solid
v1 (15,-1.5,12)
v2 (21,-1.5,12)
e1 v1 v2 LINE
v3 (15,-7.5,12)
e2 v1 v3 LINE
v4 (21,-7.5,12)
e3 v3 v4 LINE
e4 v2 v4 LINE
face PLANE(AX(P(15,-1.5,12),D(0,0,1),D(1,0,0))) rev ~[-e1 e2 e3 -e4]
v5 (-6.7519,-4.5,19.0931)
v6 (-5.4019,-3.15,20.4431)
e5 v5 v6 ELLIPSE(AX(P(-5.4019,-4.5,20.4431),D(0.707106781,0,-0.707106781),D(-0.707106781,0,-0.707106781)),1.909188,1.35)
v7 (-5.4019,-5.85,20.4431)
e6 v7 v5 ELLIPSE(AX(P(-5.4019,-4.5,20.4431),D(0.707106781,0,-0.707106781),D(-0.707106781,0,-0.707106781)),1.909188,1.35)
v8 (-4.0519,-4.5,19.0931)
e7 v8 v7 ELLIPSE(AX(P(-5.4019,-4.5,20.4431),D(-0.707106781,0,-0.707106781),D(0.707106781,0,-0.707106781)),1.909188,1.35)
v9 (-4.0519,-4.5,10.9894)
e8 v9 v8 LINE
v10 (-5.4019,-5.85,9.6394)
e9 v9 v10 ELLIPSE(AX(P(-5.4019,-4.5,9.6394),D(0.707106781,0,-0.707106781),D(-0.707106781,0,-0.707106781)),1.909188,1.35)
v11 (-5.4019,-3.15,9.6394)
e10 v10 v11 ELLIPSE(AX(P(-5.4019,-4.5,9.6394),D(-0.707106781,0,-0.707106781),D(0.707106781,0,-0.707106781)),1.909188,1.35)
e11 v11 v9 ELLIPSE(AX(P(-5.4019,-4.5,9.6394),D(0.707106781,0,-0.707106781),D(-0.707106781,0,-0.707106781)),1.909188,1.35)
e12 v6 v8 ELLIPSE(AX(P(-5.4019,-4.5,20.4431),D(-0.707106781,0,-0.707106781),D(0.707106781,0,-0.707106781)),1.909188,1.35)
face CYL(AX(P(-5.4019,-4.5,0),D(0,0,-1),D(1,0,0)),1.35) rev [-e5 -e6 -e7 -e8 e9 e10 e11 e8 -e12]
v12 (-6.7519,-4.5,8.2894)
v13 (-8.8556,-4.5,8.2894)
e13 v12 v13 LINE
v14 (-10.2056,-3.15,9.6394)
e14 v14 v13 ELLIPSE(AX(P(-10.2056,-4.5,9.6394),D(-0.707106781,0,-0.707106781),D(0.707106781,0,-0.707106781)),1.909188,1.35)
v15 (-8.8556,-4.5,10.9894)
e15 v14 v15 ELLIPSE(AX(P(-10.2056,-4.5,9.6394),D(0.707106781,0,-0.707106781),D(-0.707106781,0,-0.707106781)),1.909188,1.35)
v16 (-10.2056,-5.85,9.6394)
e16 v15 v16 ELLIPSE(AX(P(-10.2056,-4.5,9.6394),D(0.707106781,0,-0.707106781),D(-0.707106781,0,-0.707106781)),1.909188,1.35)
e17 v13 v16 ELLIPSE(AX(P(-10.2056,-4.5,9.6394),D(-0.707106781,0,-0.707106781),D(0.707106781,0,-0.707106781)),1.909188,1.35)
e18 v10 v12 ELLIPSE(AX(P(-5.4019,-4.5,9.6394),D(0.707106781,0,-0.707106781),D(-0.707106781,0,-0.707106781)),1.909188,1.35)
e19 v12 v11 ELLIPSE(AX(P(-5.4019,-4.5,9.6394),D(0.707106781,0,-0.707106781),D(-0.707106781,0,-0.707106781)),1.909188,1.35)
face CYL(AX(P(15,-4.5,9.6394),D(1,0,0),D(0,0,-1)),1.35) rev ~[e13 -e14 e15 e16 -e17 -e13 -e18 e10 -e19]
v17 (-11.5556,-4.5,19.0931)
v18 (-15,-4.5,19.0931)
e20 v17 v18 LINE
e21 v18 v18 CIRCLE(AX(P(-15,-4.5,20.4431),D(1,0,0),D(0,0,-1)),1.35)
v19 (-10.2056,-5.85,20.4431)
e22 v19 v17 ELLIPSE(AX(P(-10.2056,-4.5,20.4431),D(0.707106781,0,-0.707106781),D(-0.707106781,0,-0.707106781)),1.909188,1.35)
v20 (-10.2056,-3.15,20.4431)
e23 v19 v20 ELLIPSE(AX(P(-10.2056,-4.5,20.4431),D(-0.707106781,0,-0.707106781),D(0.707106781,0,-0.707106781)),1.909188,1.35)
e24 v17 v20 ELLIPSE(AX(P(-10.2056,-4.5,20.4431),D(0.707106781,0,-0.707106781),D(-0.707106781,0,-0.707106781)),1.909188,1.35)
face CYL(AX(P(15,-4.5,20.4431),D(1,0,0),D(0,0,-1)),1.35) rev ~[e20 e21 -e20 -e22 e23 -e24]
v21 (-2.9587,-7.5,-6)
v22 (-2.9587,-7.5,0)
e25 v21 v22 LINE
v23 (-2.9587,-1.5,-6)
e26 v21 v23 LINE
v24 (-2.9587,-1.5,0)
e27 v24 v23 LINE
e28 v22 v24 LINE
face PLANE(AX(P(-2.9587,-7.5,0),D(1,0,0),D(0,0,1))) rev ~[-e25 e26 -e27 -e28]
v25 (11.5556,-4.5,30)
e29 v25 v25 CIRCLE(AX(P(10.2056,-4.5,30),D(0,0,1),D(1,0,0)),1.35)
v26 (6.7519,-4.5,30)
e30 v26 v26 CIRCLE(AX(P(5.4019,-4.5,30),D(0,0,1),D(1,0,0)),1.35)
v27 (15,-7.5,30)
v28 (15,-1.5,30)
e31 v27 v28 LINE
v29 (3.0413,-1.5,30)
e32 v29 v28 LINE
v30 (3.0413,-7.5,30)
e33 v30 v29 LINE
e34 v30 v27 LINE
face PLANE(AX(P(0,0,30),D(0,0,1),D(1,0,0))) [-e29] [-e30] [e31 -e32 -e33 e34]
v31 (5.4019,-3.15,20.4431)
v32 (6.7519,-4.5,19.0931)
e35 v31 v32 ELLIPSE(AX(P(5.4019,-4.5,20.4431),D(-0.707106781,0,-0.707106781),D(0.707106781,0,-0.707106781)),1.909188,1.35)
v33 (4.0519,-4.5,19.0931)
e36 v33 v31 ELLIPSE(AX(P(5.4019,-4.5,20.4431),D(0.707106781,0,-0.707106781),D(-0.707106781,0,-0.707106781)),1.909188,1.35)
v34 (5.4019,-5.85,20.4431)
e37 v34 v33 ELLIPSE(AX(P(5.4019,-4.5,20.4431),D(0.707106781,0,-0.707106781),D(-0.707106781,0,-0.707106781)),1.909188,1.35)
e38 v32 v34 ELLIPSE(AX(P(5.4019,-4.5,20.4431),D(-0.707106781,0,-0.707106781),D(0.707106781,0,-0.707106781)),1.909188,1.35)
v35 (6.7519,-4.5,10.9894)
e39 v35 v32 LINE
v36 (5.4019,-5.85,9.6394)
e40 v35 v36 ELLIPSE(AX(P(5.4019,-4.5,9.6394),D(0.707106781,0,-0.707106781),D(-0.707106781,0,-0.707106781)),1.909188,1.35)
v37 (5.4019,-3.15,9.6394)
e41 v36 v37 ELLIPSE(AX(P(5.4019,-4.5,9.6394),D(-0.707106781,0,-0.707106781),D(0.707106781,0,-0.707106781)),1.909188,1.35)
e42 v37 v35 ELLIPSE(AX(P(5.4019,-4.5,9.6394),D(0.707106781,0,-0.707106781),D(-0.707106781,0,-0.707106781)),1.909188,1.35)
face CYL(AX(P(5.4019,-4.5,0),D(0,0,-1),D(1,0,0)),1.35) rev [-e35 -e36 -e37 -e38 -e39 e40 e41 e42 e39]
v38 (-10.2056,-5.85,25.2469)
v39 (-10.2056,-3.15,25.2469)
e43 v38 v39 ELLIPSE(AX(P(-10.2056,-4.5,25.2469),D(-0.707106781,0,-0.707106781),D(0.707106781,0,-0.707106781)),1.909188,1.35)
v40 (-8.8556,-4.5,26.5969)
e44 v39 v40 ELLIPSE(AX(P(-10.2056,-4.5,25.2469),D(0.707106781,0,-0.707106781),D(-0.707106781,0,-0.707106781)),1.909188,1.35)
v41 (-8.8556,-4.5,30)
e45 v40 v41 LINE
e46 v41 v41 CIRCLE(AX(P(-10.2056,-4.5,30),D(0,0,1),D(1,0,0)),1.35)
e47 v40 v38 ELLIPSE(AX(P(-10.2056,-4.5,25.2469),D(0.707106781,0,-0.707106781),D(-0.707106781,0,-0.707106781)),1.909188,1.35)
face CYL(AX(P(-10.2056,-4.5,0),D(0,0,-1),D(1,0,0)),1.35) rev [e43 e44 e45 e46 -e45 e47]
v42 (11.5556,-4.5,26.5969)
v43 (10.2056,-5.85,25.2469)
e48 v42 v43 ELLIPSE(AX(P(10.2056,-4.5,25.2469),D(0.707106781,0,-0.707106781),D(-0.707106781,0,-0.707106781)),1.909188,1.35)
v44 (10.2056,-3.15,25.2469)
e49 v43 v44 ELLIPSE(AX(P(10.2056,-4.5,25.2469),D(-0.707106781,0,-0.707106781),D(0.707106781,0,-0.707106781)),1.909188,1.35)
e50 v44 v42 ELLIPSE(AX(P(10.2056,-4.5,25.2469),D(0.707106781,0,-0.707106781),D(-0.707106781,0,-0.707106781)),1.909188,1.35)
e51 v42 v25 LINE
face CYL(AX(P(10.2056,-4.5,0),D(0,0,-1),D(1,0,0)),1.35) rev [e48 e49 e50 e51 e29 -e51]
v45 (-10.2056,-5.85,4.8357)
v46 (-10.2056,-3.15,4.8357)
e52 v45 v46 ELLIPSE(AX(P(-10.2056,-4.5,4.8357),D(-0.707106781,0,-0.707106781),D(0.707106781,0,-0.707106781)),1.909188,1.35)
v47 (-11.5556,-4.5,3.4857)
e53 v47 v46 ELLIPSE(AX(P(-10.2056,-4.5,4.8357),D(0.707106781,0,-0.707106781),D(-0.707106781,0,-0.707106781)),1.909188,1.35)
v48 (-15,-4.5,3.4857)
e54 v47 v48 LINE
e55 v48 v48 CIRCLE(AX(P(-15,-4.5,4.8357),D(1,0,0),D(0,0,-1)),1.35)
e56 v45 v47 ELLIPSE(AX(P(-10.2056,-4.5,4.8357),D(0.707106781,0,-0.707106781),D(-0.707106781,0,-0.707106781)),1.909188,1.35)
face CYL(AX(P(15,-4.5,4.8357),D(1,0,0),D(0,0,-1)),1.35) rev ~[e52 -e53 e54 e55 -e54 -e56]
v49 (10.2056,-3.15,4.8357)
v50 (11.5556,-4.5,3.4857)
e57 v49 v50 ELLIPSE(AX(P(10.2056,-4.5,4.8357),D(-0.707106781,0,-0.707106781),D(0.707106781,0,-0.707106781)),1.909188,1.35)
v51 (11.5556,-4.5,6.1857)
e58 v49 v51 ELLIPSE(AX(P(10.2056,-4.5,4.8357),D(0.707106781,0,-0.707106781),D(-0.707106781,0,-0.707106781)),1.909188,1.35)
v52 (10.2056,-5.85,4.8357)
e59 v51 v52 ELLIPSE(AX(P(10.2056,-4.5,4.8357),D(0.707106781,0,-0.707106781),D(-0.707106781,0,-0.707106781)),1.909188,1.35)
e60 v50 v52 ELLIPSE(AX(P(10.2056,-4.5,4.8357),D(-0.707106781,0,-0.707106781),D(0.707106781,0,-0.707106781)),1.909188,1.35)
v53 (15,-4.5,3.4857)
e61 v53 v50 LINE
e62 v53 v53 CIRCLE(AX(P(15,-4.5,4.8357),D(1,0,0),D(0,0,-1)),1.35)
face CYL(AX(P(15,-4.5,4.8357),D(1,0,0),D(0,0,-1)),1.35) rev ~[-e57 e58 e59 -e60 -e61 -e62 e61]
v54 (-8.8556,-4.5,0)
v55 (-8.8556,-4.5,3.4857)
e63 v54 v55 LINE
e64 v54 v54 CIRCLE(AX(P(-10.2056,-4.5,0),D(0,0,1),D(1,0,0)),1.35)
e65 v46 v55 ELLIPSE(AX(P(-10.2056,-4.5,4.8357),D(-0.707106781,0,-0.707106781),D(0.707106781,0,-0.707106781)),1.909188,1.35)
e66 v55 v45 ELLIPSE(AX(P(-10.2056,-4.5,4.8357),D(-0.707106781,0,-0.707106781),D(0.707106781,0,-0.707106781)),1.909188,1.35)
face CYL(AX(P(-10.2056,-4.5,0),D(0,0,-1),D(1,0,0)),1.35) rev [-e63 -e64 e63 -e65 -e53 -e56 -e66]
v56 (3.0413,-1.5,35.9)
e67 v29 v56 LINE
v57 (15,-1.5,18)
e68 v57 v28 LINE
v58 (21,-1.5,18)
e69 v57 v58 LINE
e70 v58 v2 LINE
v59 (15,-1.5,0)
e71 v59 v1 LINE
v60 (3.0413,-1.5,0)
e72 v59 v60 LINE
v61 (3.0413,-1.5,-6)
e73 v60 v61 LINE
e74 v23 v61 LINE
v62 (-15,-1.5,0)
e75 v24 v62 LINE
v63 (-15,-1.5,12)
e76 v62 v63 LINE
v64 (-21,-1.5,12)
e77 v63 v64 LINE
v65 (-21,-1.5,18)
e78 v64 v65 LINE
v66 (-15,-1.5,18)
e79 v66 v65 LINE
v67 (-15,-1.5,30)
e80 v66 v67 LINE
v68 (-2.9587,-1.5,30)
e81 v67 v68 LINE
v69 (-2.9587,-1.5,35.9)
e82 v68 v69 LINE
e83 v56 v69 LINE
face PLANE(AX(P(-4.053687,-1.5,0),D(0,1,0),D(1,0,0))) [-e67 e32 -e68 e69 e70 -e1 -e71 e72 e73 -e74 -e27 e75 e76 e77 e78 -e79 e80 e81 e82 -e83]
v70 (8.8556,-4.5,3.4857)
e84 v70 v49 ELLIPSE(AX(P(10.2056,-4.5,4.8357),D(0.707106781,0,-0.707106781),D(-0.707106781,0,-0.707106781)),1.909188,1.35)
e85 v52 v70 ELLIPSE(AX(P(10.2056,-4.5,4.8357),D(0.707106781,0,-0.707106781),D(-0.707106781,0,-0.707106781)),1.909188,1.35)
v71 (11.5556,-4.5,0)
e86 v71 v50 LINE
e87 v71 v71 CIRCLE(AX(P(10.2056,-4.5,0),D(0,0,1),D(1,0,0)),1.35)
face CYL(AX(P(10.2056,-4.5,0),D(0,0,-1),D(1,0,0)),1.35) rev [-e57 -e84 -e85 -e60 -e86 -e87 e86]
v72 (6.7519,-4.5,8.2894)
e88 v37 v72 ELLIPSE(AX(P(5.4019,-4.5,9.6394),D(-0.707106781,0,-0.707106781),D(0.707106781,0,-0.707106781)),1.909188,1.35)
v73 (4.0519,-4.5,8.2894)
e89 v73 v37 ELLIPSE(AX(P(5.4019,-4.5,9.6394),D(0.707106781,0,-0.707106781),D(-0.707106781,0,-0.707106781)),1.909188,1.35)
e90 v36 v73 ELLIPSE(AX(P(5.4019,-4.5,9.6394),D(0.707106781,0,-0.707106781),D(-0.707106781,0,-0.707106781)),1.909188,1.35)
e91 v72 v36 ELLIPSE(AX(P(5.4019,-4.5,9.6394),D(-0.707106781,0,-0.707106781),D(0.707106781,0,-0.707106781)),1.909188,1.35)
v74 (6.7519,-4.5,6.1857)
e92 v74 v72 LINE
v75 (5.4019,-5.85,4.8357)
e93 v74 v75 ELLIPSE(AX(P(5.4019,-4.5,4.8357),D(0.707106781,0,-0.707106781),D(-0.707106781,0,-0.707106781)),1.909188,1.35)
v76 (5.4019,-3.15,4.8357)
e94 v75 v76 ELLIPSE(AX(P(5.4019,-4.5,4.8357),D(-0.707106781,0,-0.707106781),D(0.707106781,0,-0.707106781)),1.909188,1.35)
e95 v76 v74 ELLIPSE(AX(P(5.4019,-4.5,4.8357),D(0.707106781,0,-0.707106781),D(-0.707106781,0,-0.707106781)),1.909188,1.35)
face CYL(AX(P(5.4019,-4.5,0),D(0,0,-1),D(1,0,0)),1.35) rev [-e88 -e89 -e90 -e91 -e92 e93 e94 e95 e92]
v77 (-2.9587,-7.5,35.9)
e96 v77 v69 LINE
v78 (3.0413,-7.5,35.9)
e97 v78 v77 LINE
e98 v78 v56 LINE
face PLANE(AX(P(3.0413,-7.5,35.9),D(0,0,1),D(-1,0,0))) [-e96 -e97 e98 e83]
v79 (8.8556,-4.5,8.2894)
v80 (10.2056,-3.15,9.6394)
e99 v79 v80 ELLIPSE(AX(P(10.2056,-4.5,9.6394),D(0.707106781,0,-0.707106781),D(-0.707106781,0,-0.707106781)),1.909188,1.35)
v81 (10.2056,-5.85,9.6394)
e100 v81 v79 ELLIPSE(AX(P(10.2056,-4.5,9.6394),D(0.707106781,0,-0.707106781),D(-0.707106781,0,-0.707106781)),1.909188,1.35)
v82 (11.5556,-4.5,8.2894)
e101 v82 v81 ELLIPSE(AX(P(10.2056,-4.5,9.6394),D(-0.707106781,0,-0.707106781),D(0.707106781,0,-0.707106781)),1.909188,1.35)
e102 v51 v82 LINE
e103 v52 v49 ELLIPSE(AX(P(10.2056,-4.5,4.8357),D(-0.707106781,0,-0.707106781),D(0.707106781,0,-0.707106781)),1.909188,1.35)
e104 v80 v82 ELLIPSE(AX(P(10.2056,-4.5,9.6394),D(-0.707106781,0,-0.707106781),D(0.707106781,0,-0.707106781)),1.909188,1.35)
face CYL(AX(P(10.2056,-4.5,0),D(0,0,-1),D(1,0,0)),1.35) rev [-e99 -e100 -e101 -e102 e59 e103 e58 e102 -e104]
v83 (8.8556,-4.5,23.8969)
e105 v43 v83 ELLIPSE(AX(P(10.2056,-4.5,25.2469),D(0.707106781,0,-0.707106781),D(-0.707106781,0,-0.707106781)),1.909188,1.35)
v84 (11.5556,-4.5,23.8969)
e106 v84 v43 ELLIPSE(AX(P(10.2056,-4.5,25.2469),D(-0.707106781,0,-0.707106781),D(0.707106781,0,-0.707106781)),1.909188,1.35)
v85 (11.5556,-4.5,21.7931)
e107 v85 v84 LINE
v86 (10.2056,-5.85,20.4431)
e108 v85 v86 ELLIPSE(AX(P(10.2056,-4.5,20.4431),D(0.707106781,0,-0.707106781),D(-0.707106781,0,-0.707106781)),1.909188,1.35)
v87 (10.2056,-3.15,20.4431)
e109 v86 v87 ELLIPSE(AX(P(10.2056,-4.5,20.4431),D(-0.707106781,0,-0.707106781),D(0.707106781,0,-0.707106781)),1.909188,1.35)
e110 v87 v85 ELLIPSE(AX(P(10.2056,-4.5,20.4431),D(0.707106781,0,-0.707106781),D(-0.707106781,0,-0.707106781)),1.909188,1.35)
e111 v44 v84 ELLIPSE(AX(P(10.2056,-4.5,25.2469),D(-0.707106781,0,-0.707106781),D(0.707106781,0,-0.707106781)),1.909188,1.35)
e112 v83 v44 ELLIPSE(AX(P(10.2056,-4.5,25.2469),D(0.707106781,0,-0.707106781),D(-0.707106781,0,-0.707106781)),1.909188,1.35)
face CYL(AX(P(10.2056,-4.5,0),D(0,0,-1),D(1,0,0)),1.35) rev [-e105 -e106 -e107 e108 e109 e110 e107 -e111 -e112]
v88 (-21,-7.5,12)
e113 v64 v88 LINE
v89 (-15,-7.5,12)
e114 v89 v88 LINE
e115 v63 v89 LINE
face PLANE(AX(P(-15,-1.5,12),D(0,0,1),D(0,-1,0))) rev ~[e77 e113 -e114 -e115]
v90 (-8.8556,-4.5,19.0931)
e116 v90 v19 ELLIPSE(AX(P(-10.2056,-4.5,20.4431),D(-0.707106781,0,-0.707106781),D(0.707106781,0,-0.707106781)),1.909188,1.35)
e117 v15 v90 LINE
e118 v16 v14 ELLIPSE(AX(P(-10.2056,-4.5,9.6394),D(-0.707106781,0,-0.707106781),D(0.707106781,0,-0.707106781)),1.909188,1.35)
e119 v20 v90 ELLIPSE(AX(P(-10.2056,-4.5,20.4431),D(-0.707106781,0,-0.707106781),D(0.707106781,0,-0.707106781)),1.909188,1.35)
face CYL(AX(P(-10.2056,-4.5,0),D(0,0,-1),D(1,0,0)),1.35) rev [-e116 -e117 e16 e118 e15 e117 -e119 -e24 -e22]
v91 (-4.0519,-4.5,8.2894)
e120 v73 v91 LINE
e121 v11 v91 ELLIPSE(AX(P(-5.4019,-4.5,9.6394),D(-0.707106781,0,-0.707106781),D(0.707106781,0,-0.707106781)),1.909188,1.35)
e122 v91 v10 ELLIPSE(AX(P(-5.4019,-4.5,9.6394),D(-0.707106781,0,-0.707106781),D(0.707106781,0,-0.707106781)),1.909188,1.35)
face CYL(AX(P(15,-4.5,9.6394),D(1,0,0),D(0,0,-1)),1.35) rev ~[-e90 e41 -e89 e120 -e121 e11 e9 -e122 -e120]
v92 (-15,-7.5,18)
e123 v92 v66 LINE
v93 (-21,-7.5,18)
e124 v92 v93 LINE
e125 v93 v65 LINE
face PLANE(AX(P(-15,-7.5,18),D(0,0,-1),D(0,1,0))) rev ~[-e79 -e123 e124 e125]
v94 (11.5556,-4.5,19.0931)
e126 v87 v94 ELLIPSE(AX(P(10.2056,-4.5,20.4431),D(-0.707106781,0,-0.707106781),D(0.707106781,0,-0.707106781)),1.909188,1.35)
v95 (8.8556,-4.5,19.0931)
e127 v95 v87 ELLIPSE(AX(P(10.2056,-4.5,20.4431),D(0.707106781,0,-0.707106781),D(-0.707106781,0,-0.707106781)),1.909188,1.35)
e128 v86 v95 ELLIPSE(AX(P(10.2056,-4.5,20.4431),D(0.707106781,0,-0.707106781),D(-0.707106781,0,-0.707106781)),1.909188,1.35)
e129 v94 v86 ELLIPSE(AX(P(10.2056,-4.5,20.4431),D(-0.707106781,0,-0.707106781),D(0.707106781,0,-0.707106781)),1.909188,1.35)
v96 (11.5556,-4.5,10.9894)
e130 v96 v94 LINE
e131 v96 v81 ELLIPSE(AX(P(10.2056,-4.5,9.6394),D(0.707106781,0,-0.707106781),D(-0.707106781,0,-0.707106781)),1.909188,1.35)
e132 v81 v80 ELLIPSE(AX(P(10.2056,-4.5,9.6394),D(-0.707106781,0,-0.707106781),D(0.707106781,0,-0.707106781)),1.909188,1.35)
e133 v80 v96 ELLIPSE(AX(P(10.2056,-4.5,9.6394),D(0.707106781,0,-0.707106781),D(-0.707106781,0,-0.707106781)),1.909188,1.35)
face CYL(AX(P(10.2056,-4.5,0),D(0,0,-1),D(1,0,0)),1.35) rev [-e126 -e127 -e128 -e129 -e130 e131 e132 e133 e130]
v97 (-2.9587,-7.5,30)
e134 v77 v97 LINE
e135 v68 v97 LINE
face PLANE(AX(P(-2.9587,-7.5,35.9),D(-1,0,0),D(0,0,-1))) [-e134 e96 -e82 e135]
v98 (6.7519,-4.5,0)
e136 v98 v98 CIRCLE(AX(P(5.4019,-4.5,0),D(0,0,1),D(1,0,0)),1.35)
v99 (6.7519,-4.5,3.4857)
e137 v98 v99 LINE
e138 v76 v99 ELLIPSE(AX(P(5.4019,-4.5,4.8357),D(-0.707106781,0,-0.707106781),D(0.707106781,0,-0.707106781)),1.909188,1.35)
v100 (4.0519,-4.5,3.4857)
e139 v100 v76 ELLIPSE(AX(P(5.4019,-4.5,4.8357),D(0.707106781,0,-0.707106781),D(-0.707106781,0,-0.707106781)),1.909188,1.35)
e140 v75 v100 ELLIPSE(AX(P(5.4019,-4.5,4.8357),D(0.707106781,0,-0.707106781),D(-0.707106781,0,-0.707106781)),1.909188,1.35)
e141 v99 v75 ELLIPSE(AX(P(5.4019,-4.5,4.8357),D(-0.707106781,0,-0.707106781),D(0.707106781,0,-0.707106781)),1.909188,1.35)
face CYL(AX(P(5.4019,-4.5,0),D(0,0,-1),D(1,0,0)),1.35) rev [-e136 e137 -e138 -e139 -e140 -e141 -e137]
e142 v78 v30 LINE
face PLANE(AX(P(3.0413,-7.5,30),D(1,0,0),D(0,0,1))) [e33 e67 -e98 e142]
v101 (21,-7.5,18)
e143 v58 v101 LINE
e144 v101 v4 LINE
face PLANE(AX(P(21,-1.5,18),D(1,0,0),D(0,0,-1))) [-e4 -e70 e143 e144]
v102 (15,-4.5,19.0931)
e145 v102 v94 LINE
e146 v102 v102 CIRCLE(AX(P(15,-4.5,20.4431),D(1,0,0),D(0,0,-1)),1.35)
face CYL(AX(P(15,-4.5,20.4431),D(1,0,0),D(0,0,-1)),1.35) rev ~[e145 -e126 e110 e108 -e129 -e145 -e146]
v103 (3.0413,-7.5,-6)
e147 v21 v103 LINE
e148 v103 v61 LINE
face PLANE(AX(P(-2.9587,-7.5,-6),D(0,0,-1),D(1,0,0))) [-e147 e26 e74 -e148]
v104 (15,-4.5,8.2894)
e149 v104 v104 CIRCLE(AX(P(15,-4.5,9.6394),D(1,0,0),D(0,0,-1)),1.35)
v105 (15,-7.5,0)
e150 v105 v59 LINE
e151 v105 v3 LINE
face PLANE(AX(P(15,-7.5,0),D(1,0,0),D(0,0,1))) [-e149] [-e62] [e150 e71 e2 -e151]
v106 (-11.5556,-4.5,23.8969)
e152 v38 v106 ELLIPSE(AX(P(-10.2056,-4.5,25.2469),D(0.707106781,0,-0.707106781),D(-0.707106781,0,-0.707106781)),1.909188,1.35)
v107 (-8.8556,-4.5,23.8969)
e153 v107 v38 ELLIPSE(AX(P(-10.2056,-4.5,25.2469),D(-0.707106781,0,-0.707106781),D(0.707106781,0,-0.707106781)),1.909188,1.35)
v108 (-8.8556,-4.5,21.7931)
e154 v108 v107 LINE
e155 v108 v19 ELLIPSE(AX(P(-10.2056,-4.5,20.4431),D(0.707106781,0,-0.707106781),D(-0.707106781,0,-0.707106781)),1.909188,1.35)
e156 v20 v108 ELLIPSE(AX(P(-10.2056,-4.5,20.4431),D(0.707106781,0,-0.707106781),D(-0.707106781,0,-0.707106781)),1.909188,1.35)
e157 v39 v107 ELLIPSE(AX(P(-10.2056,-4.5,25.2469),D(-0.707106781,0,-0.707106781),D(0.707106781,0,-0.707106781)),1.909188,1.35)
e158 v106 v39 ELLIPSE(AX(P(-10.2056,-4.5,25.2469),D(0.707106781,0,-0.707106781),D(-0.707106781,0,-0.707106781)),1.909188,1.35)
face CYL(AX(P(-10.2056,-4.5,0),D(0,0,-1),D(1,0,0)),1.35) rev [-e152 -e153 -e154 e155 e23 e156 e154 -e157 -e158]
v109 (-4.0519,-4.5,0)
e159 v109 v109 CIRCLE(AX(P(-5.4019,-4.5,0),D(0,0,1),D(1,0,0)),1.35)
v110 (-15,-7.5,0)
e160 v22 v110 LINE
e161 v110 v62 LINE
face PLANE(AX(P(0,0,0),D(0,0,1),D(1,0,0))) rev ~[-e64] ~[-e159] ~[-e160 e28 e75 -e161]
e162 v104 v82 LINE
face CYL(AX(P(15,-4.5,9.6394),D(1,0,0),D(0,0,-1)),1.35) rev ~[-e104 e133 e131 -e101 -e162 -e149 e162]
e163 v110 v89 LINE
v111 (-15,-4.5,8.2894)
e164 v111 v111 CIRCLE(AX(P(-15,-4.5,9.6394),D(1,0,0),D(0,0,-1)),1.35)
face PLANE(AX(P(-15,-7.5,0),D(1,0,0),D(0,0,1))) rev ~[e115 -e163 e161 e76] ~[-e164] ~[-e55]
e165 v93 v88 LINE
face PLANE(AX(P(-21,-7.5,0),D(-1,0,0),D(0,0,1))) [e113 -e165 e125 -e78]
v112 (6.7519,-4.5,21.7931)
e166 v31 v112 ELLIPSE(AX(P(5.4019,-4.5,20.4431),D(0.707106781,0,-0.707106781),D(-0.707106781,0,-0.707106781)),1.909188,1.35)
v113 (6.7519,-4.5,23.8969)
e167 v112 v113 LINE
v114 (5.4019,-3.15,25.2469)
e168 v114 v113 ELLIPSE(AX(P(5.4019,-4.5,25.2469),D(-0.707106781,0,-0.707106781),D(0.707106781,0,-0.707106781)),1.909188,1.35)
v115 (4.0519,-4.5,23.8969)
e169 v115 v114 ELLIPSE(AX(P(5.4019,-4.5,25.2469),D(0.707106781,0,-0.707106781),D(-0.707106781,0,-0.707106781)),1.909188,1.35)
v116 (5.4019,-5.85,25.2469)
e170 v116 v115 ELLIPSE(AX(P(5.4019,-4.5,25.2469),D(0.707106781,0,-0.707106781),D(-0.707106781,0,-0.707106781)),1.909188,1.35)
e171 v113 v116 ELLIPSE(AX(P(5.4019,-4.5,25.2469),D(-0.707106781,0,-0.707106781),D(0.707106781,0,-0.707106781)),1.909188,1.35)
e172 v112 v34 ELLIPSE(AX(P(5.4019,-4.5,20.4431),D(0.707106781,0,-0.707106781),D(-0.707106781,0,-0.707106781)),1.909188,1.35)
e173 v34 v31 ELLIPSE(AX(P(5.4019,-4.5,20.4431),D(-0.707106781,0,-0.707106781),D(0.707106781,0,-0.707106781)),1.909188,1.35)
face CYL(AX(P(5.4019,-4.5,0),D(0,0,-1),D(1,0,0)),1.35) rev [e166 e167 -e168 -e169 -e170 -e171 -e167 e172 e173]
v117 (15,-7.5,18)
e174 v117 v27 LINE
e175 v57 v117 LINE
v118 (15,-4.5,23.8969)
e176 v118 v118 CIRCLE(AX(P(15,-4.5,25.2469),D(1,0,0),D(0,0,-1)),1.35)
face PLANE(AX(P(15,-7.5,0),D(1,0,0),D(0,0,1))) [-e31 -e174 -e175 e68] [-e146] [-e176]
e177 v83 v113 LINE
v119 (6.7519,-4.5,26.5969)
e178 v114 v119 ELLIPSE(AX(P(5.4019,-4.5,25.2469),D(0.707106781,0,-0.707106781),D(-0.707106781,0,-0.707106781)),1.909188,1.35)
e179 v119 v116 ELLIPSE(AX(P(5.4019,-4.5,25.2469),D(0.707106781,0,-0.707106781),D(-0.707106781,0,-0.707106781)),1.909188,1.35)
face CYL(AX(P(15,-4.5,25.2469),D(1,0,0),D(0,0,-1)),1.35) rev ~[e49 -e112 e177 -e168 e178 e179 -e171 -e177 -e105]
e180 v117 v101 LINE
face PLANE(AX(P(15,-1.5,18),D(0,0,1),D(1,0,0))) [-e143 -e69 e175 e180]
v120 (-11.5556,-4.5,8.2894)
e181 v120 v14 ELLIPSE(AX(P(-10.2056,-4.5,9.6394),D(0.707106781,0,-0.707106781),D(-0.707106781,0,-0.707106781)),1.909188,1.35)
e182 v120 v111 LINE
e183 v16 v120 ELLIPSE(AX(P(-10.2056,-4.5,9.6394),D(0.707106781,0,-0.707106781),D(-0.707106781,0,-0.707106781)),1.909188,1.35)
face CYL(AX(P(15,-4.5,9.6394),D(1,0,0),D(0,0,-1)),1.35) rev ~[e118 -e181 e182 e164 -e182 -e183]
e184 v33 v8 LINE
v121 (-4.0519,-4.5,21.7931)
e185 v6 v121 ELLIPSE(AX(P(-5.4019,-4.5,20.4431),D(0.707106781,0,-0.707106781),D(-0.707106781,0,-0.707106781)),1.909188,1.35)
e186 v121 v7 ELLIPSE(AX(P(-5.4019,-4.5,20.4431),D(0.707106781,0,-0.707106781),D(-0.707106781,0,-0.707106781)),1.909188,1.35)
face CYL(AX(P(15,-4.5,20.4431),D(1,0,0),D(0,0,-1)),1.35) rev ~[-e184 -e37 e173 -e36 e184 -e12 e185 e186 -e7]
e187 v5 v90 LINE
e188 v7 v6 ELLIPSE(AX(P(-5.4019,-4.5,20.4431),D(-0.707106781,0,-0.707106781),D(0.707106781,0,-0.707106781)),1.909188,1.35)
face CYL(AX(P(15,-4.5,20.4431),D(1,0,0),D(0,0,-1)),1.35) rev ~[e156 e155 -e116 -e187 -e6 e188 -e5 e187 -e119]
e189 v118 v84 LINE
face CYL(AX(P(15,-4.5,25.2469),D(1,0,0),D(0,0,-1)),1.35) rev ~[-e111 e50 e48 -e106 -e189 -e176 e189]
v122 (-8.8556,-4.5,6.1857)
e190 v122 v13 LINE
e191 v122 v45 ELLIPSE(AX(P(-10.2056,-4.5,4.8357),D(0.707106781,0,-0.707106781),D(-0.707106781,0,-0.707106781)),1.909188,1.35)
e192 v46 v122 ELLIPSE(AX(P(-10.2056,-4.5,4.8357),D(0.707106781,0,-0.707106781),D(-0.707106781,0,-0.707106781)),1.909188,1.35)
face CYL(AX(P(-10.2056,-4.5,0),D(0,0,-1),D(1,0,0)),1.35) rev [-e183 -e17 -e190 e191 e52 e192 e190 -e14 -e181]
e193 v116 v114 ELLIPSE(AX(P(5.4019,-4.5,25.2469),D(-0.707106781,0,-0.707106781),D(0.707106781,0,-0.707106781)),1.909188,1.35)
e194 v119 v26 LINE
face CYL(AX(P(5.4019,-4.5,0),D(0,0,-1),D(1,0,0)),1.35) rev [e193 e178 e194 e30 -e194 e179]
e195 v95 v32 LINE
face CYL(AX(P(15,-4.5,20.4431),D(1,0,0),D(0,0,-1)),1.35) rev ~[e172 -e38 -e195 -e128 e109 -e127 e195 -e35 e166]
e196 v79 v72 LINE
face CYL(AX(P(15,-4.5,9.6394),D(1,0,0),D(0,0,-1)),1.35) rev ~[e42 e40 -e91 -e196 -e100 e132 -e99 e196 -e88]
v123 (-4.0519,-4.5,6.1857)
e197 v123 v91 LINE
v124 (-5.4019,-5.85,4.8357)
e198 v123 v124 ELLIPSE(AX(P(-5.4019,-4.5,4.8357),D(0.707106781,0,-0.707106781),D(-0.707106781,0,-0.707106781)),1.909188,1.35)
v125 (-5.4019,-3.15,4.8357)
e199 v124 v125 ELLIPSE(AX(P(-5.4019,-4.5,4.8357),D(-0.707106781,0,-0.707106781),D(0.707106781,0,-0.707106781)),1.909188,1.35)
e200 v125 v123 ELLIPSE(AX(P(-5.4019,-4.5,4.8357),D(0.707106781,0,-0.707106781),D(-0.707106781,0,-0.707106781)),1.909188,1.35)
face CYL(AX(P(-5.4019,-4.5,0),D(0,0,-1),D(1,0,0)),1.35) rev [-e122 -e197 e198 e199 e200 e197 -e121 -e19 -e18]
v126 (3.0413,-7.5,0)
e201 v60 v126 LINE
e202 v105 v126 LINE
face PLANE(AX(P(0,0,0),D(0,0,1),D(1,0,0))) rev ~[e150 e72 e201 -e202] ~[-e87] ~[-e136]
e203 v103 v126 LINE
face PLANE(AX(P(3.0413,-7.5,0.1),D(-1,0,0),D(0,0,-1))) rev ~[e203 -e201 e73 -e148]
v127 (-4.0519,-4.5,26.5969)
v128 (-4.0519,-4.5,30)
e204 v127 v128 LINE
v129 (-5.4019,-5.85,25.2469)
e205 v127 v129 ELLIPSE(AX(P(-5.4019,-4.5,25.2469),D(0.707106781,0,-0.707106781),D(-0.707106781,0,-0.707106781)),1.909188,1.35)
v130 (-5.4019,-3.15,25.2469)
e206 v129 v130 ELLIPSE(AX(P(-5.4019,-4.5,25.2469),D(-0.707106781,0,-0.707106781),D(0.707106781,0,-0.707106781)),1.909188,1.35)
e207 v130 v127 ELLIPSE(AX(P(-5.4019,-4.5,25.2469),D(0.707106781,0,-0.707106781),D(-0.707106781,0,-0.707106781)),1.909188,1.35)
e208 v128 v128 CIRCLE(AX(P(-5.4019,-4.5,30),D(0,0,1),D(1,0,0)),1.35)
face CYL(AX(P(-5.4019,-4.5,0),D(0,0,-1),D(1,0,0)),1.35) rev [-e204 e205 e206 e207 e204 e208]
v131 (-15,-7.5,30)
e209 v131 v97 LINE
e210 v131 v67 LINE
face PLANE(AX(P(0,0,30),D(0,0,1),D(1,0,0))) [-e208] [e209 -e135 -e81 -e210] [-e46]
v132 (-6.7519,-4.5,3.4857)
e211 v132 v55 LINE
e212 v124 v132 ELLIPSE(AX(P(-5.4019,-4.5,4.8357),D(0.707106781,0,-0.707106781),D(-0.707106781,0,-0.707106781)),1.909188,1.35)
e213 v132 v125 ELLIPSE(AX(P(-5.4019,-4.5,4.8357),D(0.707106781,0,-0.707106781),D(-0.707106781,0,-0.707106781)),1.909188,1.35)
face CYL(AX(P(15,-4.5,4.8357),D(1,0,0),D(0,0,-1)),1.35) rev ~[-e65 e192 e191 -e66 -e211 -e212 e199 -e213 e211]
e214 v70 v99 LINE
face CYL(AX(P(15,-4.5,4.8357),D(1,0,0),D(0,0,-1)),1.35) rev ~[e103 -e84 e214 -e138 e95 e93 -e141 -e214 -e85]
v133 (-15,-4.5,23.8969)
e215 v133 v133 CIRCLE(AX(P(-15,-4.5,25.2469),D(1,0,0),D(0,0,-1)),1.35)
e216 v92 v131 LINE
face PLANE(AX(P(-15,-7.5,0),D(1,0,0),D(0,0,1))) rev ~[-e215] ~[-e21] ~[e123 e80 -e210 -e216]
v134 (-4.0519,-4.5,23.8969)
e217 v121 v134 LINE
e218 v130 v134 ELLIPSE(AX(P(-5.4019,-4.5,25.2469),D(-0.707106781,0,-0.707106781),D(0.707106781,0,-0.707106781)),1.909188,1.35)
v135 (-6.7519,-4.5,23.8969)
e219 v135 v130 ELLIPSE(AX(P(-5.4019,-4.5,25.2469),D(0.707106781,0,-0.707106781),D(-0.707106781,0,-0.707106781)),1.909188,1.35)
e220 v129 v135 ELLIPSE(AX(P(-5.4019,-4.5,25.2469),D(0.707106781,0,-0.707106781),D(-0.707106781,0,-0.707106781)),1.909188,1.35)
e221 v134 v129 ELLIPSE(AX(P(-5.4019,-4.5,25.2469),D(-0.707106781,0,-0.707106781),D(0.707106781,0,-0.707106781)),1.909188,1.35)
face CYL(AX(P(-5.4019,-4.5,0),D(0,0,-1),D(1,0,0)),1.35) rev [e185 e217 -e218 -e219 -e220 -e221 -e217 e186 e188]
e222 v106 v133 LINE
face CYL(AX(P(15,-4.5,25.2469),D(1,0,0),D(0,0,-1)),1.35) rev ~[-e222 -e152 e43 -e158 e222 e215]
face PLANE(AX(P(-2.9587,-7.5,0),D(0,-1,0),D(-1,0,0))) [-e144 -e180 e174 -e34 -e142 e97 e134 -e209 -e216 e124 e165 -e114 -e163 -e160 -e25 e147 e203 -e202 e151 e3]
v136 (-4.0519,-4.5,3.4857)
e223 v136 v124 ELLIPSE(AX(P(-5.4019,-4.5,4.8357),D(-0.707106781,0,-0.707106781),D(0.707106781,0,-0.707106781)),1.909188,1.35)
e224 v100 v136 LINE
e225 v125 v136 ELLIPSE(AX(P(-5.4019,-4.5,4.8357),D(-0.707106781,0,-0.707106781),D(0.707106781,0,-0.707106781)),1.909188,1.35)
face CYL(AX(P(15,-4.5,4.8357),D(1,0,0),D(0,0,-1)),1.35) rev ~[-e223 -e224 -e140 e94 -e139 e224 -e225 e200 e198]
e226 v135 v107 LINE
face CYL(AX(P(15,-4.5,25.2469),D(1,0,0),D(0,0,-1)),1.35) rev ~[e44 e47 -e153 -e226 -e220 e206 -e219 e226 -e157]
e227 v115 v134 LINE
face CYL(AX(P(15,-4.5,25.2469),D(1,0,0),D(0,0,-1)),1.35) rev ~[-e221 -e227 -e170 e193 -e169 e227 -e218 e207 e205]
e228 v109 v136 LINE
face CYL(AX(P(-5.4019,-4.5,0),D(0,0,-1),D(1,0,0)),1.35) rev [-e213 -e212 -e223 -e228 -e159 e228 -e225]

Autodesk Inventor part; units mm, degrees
ref_plane "YZ Plane" through (0, 0, 0) normal (1, 0, 0) x (0, 1, 0)
ref_plane "XZ Plane" through (0, 0, 0) normal (0, 1, 0) x (-1, 0, 0)
ref_plane "XY Plane" through (0, 0, 0) normal (0, 0, 1) x (1, 0, 0)
sketch "스케치1" plane through (0, 0, 0) normal (0, 0, 1) x (1, 0, 0)
  circle A0 centre (-5.4019, -4.5) radius 1.35 projected
  circle A1 centre (5.4019, -4.5) radius 1.35 projected
  circle A2 centre (-10.2056, -4.5) radius 1.35 projected
  circle A3 centre (10.2056, -4.5) radius 1.35 projected
  line L0 (-3.0587, -2.4) -> (-3.0587, -6.5) projected
  arc A4 (-3.0587, -6.5) -> (-4.0587, -7.5) centre (-3.0587, -7.5) ccw projected
  line L1 (-4.0587, -7.5) -> (-12.6075, -7.5) projected
  line L2 (-12.6075, -7.5) -> (-12.6075, 7.5) projected
  line L3 (-12.6075, 7.5) -> (-17.6, 13.3735) projected
  line L4 (-17.6, 13.3735) -> (-17.6, 24.9) projected
  line L5 (-17.6, 24.9) -> (-12.2, 24.9) projected
  line L6 (-12.2, 24.9) -> (-12.2, 14.7038) projected
  arc A5 (-12.2, 14.7038) -> (-10.2, 12.7038) centre (-10.2, 14.7038) ccw projected
  line L7 (-10.2, 12.7038) -> (0, 12.7038) projected
  line L8 (0, 12.7038) -> (5.5223, 12.4914) projected
  line L9 (5.5223, 12.4914) -> (10.5959, 12.4914) projected
  arc A6 (10.5959, 12.4914) -> (12.5959, 14.4914) centre (10.5959, 14.4914) ccw projected
  line L10 (12.5959, 14.4914) -> (12.5959, 24.9) projected
  line L11 (12.5959, 24.9) -> (17.6, 24.9) projected
  line L12 (17.6, 24.9) -> (17.6, 13.3735) projected
  line L13 (17.6, 13.3735) -> (12.6075, 7.5) projected
  line L14 (12.6075, 7.5) -> (12.6075, -7.5) projected
  line L15 (12.6075, -7.5) -> (4.1413, -7.5) projected
  arc A7 (4.1413, -7.5) -> (3.1413, -6.5) centre (3.1413, -7.5) ccw projected
  line L16 (3.1413, -6.5) -> (3.1413, -2.4) projected
  arc A8 (3.1413, -2.4) -> (2.1413, -1.4) centre (3.1413, -1.4) ccw projected
  line L17 (2.1413, -1.4) -> (-2.0587, -1.4) projected
  arc A9 (-2.0587, -1.4) -> (-3.0587, -2.4) centre (-3.0587, -1.4) ccw projected
  circle A10 centre (-8.5, 10.1) radius 1.45 projected
  circle A11 centre (-15, 16.4) radius 1.45 projected
  circle A12 centre (15, 16.4) radius 1.45 projected
  circle A13 centre (8.5, 10.1) radius 1.45 projected
  line L18 (12.6075, -7.5) -> (-12.6075, -7.5)
  line L19 (-12.6075, -7.5) -> (-12.6075, -1.5)
  line L20 (-12.6075, -1.5) -> (12.6075, -1.5)
  line L21 (12.6075, -1.5) -> (12.6075, -7.5)
  line L22 (3.1413, -1.4) -> (3.0413, -1.4)
  line L23 (3.0413, -1.4) -> (3.0413, -1.5)
  line L24 (3.0413, -1.5) -> (3.1413, -1.5)
  line L25 (3.1413, -1.5) -> (3.1413, -1.4)
  line L26 (3.0413, -1.5) -> (-2.9587, -1.5)
  line L27 (-2.9587, -1.5) -> (-2.9587, -7.5)
  line L28 (-2.9587, -7.5) -> (3.0413, -7.5)
  line L29 (3.0413, -7.5) -> (3.0413, -1.5)
  point P0 (0, 0)
  point P1 (12.6075, -1.5)
  dimension "d0" = 6
  dimension "d1" = 0.1
  dimension "d2" = 0.1
  dimension "d3" = 6
  dimension "d4" = 6
extrude "돌출1" add sketch "스케치1" along normal blind 30 contours A9 L20 L27 L18 A4 L0 | L0 A4 L1 L2 L20 A9 | L20 L29 L18 L27 | L20 A8 L16 A7 L18 L29 | L20 L14 L15 A7 L16 A8
sketch "스케치3" plane through (-12.6075, -7.5, 0) normal (0, -1, 0) x (1, 0, 0)
  line L0 (15.7488, 36) -> (15.7488, 30) projected
  line L1 (9.5488, 36) -> (9.5488, 30) projected
  line L2 (15.7488, 36) -> (15.6488, 36)
  line L3 (15.6488, 36) -> (15.6488, 35.9)
  line L4 (15.6488, 35.9) -> (15.7488, 35.9)
  line L5 (15.7488, 35.9) -> (15.7488, 36)
  line L6 (15.6488, 35.9) -> (9.6488, 35.9)
  line L7 (9.6488, 35.9) -> (9.6488, 29.9)
  line L8 (9.6488, 29.9) -> (15.6488, 29.9)
  line L9 (15.6488, 29.9) -> (15.6488, 35.9)
  line L10 (15.6488, 35.9) -> (9.6488, 35.9)
  line L11 (9.6488, 35.9) -> (9.6488, 36)
  line L12 (9.6488, 36) -> (15.6488, 36)
  line L13 (15.6488, 36) -> (15.6488, 35.9)
  line L14 (0, 30) -> (25.215, 30) projected
  line L15 (0, 0) -> (0, 30) projected
  line L16 (0, 15) -> (25.215, 15)
  line L17 (25.215, 0) -> (25.215, 30) projected
  line L18 (15.7488, -6) -> (15.7488, 0)
  line L19 (9.5488, -6) -> (9.5488, 0)
  line L20 (15.7488, -6) -> (15.6488, -6)
  line L21 (15.6488, -6) -> (15.6488, -5.9)
  line L22 (15.6488, -5.9) -> (15.7488, -5.9)
  line L23 (15.7488, -5.9) -> (15.7488, -6)
  line L24 (15.6488, -5.9) -> (9.6488, -5.9)
  line L25 (9.6488, -5.9) -> (9.6488, 0.1)
  line L26 (9.6488, 0.1) -> (15.6488, 0.1)
  line L27 (15.6488, 0.1) -> (15.6488, -5.9)
  line L28 (15.6488, -5.9) -> (9.6488, -5.9)
  line L29 (9.6488, -5.9) -> (9.6488, -6)
  line L30 (9.6488, -6) -> (15.6488, -6)
  line L31 (15.6488, -6) -> (15.6488, -5.9)
  line L32 (0, 0) -> (25.215, 0) projected
  point P0 (12.6075, 0)
  dimension "d11" = 0.1
  dimension "d12" = 0.1
  dimension "d13" = 6
  dimension "d14" = 6
extrude "돌출2" add sketch "스케치3" against normal blind 6 contours L9 L14 L7 L6 | L9 L8 L7 L14 | L32 L25 L26 L27 | L27 L24 L25 L32 | L21 L30 L29 L24
sketch "스케치7" plane through (-12.6075, -7.5, 0) normal (0, -1, 0) x (1, 0, 0)
  line L0 (0, 30) -> (9.6488, 30) projected
  line L1 (0, 0) -> (0, 30) projected
  line L2 (0, 0) -> (9.6488, 0) projected
  line L3 (9.6488, 0) -> (9.6488, -6) projected
  line L4 (9.6488, -6) -> (15.6488, -6) projected
  line L5 (15.6488, -6) -> (15.6488, 0) projected
  line L6 (15.6488, 0) -> (25.215, 0) projected
  line L7 (25.215, 0) -> (25.215, 30) projected
  line L8 (15.6488, 30) -> (25.215, 30) projected
  line L9 (15.6488, 30) -> (15.6488, 35.9) projected
  line L10 (15.6488, 35.9) -> (9.6488, 35.9) projected
  line L11 (9.6488, 35.9) -> (9.6488, 30) projected
  line L12 (0, 0) -> (0, 30) projected
  line L13 (0, 0) -> (-2.3925, 0)
  line L14 (-2.3925, 0) -> (-2.3925, 30)
  line L15 (-2.3925, 30) -> (0, 30)
  line L16 (0, 30) -> (0, 0)
  line L17 (12.6075, 0) -> (12.6075, 30)
  line L18 (25.215, 0) -> (25.215, 30)
  line L19 (25.215, 0) -> (25.215, 30)
  line L20 (25.215, 0) -> (27.6075, 0)
  line L21 (27.6075, 0) -> (27.6075, 30)
  line L22 (27.6075, 30) -> (25.215, 30)
  line L23 (25.215, 30) -> (25.215, 0)
  dimension "d26" = 2.3925
extrude "돌출6" add sketch "스케치7" against normal blind 6 contours L1 L13 L14 L15 | L22 L21 L20 L7
sketch "스케치8" plane through (-15, -7.5, 0) normal (-1, 0, 0) x (0, 0, 1)
  line L0 (0, 0) -> (30, 0) projected
  line L1 (15, 0) -> (15, 6)
  line L2 (30, 6) -> (0, 6) projected
  line L3 (15, 6) -> (12, 6)
  line L4 (12, 6) -> (12, 0)
  line L5 (12, 0) -> (15, 0)
  line L6 (15, 0) -> (15, 6)
  line L7 (15, 0) -> (18, 0)
  line L8 (18, 0) -> (18, 6)
  line L9 (18, 6) -> (15, 6)
  line L10 (15, 6) -> (15, 0)
  point P0 (0, 7.5)
  dimension "d29" = 3
  dimension "d30" = 3
extrude "돌출7" add sketch "스케치8" along normal blind 6
sketch "스케치9" plane through (-2.9587, -1.5, -6) normal (0, 1, 0) x (1, 0, 0)
  line L0 (6, -36) -> (17.9587, -36) projected
  line L1 (17.9587, -36) -> (17.9587, -6) projected
  line L2 (17.9587, -6) -> (6, -6) projected
  line L3 (6, -6) -> (6, 0) projected
  line L4 (6, 0) -> (0, 0) projected
  line L5 (0, 0) -> (0, -6) projected
  line L6 (0, -6) -> (-12.0413, -6) projected
  line L7 (-12.0413, -6) -> (-12.0413, -18) projected
  line L8 (-12.0413, -18) -> (-18.0413, -18) projected
  line L9 (-18.0413, -24) -> (-18.0413, -18) projected
  line L10 (-12.0413, -24) -> (-18.0413, -24) projected
  line L11 (-12.0413, -24) -> (-12.0413, -36) projected
  line L12 (0, -36) -> (-12.0413, -36) projected
  line L13 (0, -36) -> (0, -41.9) projected
  line L14 (0, -41.9) -> (6, -41.9) projected
  line L15 (6, -41.9) -> (6, -36) projected
  line L16 (2.9587, -6) -> (2.9587, -36)
  line L17 (17.9587, -18) -> (23.9587, -18)
  line L18 (23.9587, -24) -> (23.9587, -18)
  line L19 (17.9587, -24) -> (23.9587, -24)
extrude "돌출8" add sketch "스케치9" against normal blind 6 contours L1 L17 L18 L19
sketch "스케치10" plane through (15, -7.5, 0) normal (1, 0, 0) x (0, 0, -1)
  point P0 (0, 7.5)
sketch "스케치11" plane through (15, -7.5, 0) normal (1, 0, 0) x (0, 0, -1)
  circle A0 centre (-4.8357, 3) radius 1.35
  circle A1 centre (-9.6394, 3) radius 1.35
  circle A2 centre (-25.2469, 3) radius 1.35
  circle A3 centre (-20.4431, 3) radius 1.35
  point P0 (0, 7.5)
extrude "돌출9" cut sketch "스케치11" against normal through all
properties part number "부품78"
